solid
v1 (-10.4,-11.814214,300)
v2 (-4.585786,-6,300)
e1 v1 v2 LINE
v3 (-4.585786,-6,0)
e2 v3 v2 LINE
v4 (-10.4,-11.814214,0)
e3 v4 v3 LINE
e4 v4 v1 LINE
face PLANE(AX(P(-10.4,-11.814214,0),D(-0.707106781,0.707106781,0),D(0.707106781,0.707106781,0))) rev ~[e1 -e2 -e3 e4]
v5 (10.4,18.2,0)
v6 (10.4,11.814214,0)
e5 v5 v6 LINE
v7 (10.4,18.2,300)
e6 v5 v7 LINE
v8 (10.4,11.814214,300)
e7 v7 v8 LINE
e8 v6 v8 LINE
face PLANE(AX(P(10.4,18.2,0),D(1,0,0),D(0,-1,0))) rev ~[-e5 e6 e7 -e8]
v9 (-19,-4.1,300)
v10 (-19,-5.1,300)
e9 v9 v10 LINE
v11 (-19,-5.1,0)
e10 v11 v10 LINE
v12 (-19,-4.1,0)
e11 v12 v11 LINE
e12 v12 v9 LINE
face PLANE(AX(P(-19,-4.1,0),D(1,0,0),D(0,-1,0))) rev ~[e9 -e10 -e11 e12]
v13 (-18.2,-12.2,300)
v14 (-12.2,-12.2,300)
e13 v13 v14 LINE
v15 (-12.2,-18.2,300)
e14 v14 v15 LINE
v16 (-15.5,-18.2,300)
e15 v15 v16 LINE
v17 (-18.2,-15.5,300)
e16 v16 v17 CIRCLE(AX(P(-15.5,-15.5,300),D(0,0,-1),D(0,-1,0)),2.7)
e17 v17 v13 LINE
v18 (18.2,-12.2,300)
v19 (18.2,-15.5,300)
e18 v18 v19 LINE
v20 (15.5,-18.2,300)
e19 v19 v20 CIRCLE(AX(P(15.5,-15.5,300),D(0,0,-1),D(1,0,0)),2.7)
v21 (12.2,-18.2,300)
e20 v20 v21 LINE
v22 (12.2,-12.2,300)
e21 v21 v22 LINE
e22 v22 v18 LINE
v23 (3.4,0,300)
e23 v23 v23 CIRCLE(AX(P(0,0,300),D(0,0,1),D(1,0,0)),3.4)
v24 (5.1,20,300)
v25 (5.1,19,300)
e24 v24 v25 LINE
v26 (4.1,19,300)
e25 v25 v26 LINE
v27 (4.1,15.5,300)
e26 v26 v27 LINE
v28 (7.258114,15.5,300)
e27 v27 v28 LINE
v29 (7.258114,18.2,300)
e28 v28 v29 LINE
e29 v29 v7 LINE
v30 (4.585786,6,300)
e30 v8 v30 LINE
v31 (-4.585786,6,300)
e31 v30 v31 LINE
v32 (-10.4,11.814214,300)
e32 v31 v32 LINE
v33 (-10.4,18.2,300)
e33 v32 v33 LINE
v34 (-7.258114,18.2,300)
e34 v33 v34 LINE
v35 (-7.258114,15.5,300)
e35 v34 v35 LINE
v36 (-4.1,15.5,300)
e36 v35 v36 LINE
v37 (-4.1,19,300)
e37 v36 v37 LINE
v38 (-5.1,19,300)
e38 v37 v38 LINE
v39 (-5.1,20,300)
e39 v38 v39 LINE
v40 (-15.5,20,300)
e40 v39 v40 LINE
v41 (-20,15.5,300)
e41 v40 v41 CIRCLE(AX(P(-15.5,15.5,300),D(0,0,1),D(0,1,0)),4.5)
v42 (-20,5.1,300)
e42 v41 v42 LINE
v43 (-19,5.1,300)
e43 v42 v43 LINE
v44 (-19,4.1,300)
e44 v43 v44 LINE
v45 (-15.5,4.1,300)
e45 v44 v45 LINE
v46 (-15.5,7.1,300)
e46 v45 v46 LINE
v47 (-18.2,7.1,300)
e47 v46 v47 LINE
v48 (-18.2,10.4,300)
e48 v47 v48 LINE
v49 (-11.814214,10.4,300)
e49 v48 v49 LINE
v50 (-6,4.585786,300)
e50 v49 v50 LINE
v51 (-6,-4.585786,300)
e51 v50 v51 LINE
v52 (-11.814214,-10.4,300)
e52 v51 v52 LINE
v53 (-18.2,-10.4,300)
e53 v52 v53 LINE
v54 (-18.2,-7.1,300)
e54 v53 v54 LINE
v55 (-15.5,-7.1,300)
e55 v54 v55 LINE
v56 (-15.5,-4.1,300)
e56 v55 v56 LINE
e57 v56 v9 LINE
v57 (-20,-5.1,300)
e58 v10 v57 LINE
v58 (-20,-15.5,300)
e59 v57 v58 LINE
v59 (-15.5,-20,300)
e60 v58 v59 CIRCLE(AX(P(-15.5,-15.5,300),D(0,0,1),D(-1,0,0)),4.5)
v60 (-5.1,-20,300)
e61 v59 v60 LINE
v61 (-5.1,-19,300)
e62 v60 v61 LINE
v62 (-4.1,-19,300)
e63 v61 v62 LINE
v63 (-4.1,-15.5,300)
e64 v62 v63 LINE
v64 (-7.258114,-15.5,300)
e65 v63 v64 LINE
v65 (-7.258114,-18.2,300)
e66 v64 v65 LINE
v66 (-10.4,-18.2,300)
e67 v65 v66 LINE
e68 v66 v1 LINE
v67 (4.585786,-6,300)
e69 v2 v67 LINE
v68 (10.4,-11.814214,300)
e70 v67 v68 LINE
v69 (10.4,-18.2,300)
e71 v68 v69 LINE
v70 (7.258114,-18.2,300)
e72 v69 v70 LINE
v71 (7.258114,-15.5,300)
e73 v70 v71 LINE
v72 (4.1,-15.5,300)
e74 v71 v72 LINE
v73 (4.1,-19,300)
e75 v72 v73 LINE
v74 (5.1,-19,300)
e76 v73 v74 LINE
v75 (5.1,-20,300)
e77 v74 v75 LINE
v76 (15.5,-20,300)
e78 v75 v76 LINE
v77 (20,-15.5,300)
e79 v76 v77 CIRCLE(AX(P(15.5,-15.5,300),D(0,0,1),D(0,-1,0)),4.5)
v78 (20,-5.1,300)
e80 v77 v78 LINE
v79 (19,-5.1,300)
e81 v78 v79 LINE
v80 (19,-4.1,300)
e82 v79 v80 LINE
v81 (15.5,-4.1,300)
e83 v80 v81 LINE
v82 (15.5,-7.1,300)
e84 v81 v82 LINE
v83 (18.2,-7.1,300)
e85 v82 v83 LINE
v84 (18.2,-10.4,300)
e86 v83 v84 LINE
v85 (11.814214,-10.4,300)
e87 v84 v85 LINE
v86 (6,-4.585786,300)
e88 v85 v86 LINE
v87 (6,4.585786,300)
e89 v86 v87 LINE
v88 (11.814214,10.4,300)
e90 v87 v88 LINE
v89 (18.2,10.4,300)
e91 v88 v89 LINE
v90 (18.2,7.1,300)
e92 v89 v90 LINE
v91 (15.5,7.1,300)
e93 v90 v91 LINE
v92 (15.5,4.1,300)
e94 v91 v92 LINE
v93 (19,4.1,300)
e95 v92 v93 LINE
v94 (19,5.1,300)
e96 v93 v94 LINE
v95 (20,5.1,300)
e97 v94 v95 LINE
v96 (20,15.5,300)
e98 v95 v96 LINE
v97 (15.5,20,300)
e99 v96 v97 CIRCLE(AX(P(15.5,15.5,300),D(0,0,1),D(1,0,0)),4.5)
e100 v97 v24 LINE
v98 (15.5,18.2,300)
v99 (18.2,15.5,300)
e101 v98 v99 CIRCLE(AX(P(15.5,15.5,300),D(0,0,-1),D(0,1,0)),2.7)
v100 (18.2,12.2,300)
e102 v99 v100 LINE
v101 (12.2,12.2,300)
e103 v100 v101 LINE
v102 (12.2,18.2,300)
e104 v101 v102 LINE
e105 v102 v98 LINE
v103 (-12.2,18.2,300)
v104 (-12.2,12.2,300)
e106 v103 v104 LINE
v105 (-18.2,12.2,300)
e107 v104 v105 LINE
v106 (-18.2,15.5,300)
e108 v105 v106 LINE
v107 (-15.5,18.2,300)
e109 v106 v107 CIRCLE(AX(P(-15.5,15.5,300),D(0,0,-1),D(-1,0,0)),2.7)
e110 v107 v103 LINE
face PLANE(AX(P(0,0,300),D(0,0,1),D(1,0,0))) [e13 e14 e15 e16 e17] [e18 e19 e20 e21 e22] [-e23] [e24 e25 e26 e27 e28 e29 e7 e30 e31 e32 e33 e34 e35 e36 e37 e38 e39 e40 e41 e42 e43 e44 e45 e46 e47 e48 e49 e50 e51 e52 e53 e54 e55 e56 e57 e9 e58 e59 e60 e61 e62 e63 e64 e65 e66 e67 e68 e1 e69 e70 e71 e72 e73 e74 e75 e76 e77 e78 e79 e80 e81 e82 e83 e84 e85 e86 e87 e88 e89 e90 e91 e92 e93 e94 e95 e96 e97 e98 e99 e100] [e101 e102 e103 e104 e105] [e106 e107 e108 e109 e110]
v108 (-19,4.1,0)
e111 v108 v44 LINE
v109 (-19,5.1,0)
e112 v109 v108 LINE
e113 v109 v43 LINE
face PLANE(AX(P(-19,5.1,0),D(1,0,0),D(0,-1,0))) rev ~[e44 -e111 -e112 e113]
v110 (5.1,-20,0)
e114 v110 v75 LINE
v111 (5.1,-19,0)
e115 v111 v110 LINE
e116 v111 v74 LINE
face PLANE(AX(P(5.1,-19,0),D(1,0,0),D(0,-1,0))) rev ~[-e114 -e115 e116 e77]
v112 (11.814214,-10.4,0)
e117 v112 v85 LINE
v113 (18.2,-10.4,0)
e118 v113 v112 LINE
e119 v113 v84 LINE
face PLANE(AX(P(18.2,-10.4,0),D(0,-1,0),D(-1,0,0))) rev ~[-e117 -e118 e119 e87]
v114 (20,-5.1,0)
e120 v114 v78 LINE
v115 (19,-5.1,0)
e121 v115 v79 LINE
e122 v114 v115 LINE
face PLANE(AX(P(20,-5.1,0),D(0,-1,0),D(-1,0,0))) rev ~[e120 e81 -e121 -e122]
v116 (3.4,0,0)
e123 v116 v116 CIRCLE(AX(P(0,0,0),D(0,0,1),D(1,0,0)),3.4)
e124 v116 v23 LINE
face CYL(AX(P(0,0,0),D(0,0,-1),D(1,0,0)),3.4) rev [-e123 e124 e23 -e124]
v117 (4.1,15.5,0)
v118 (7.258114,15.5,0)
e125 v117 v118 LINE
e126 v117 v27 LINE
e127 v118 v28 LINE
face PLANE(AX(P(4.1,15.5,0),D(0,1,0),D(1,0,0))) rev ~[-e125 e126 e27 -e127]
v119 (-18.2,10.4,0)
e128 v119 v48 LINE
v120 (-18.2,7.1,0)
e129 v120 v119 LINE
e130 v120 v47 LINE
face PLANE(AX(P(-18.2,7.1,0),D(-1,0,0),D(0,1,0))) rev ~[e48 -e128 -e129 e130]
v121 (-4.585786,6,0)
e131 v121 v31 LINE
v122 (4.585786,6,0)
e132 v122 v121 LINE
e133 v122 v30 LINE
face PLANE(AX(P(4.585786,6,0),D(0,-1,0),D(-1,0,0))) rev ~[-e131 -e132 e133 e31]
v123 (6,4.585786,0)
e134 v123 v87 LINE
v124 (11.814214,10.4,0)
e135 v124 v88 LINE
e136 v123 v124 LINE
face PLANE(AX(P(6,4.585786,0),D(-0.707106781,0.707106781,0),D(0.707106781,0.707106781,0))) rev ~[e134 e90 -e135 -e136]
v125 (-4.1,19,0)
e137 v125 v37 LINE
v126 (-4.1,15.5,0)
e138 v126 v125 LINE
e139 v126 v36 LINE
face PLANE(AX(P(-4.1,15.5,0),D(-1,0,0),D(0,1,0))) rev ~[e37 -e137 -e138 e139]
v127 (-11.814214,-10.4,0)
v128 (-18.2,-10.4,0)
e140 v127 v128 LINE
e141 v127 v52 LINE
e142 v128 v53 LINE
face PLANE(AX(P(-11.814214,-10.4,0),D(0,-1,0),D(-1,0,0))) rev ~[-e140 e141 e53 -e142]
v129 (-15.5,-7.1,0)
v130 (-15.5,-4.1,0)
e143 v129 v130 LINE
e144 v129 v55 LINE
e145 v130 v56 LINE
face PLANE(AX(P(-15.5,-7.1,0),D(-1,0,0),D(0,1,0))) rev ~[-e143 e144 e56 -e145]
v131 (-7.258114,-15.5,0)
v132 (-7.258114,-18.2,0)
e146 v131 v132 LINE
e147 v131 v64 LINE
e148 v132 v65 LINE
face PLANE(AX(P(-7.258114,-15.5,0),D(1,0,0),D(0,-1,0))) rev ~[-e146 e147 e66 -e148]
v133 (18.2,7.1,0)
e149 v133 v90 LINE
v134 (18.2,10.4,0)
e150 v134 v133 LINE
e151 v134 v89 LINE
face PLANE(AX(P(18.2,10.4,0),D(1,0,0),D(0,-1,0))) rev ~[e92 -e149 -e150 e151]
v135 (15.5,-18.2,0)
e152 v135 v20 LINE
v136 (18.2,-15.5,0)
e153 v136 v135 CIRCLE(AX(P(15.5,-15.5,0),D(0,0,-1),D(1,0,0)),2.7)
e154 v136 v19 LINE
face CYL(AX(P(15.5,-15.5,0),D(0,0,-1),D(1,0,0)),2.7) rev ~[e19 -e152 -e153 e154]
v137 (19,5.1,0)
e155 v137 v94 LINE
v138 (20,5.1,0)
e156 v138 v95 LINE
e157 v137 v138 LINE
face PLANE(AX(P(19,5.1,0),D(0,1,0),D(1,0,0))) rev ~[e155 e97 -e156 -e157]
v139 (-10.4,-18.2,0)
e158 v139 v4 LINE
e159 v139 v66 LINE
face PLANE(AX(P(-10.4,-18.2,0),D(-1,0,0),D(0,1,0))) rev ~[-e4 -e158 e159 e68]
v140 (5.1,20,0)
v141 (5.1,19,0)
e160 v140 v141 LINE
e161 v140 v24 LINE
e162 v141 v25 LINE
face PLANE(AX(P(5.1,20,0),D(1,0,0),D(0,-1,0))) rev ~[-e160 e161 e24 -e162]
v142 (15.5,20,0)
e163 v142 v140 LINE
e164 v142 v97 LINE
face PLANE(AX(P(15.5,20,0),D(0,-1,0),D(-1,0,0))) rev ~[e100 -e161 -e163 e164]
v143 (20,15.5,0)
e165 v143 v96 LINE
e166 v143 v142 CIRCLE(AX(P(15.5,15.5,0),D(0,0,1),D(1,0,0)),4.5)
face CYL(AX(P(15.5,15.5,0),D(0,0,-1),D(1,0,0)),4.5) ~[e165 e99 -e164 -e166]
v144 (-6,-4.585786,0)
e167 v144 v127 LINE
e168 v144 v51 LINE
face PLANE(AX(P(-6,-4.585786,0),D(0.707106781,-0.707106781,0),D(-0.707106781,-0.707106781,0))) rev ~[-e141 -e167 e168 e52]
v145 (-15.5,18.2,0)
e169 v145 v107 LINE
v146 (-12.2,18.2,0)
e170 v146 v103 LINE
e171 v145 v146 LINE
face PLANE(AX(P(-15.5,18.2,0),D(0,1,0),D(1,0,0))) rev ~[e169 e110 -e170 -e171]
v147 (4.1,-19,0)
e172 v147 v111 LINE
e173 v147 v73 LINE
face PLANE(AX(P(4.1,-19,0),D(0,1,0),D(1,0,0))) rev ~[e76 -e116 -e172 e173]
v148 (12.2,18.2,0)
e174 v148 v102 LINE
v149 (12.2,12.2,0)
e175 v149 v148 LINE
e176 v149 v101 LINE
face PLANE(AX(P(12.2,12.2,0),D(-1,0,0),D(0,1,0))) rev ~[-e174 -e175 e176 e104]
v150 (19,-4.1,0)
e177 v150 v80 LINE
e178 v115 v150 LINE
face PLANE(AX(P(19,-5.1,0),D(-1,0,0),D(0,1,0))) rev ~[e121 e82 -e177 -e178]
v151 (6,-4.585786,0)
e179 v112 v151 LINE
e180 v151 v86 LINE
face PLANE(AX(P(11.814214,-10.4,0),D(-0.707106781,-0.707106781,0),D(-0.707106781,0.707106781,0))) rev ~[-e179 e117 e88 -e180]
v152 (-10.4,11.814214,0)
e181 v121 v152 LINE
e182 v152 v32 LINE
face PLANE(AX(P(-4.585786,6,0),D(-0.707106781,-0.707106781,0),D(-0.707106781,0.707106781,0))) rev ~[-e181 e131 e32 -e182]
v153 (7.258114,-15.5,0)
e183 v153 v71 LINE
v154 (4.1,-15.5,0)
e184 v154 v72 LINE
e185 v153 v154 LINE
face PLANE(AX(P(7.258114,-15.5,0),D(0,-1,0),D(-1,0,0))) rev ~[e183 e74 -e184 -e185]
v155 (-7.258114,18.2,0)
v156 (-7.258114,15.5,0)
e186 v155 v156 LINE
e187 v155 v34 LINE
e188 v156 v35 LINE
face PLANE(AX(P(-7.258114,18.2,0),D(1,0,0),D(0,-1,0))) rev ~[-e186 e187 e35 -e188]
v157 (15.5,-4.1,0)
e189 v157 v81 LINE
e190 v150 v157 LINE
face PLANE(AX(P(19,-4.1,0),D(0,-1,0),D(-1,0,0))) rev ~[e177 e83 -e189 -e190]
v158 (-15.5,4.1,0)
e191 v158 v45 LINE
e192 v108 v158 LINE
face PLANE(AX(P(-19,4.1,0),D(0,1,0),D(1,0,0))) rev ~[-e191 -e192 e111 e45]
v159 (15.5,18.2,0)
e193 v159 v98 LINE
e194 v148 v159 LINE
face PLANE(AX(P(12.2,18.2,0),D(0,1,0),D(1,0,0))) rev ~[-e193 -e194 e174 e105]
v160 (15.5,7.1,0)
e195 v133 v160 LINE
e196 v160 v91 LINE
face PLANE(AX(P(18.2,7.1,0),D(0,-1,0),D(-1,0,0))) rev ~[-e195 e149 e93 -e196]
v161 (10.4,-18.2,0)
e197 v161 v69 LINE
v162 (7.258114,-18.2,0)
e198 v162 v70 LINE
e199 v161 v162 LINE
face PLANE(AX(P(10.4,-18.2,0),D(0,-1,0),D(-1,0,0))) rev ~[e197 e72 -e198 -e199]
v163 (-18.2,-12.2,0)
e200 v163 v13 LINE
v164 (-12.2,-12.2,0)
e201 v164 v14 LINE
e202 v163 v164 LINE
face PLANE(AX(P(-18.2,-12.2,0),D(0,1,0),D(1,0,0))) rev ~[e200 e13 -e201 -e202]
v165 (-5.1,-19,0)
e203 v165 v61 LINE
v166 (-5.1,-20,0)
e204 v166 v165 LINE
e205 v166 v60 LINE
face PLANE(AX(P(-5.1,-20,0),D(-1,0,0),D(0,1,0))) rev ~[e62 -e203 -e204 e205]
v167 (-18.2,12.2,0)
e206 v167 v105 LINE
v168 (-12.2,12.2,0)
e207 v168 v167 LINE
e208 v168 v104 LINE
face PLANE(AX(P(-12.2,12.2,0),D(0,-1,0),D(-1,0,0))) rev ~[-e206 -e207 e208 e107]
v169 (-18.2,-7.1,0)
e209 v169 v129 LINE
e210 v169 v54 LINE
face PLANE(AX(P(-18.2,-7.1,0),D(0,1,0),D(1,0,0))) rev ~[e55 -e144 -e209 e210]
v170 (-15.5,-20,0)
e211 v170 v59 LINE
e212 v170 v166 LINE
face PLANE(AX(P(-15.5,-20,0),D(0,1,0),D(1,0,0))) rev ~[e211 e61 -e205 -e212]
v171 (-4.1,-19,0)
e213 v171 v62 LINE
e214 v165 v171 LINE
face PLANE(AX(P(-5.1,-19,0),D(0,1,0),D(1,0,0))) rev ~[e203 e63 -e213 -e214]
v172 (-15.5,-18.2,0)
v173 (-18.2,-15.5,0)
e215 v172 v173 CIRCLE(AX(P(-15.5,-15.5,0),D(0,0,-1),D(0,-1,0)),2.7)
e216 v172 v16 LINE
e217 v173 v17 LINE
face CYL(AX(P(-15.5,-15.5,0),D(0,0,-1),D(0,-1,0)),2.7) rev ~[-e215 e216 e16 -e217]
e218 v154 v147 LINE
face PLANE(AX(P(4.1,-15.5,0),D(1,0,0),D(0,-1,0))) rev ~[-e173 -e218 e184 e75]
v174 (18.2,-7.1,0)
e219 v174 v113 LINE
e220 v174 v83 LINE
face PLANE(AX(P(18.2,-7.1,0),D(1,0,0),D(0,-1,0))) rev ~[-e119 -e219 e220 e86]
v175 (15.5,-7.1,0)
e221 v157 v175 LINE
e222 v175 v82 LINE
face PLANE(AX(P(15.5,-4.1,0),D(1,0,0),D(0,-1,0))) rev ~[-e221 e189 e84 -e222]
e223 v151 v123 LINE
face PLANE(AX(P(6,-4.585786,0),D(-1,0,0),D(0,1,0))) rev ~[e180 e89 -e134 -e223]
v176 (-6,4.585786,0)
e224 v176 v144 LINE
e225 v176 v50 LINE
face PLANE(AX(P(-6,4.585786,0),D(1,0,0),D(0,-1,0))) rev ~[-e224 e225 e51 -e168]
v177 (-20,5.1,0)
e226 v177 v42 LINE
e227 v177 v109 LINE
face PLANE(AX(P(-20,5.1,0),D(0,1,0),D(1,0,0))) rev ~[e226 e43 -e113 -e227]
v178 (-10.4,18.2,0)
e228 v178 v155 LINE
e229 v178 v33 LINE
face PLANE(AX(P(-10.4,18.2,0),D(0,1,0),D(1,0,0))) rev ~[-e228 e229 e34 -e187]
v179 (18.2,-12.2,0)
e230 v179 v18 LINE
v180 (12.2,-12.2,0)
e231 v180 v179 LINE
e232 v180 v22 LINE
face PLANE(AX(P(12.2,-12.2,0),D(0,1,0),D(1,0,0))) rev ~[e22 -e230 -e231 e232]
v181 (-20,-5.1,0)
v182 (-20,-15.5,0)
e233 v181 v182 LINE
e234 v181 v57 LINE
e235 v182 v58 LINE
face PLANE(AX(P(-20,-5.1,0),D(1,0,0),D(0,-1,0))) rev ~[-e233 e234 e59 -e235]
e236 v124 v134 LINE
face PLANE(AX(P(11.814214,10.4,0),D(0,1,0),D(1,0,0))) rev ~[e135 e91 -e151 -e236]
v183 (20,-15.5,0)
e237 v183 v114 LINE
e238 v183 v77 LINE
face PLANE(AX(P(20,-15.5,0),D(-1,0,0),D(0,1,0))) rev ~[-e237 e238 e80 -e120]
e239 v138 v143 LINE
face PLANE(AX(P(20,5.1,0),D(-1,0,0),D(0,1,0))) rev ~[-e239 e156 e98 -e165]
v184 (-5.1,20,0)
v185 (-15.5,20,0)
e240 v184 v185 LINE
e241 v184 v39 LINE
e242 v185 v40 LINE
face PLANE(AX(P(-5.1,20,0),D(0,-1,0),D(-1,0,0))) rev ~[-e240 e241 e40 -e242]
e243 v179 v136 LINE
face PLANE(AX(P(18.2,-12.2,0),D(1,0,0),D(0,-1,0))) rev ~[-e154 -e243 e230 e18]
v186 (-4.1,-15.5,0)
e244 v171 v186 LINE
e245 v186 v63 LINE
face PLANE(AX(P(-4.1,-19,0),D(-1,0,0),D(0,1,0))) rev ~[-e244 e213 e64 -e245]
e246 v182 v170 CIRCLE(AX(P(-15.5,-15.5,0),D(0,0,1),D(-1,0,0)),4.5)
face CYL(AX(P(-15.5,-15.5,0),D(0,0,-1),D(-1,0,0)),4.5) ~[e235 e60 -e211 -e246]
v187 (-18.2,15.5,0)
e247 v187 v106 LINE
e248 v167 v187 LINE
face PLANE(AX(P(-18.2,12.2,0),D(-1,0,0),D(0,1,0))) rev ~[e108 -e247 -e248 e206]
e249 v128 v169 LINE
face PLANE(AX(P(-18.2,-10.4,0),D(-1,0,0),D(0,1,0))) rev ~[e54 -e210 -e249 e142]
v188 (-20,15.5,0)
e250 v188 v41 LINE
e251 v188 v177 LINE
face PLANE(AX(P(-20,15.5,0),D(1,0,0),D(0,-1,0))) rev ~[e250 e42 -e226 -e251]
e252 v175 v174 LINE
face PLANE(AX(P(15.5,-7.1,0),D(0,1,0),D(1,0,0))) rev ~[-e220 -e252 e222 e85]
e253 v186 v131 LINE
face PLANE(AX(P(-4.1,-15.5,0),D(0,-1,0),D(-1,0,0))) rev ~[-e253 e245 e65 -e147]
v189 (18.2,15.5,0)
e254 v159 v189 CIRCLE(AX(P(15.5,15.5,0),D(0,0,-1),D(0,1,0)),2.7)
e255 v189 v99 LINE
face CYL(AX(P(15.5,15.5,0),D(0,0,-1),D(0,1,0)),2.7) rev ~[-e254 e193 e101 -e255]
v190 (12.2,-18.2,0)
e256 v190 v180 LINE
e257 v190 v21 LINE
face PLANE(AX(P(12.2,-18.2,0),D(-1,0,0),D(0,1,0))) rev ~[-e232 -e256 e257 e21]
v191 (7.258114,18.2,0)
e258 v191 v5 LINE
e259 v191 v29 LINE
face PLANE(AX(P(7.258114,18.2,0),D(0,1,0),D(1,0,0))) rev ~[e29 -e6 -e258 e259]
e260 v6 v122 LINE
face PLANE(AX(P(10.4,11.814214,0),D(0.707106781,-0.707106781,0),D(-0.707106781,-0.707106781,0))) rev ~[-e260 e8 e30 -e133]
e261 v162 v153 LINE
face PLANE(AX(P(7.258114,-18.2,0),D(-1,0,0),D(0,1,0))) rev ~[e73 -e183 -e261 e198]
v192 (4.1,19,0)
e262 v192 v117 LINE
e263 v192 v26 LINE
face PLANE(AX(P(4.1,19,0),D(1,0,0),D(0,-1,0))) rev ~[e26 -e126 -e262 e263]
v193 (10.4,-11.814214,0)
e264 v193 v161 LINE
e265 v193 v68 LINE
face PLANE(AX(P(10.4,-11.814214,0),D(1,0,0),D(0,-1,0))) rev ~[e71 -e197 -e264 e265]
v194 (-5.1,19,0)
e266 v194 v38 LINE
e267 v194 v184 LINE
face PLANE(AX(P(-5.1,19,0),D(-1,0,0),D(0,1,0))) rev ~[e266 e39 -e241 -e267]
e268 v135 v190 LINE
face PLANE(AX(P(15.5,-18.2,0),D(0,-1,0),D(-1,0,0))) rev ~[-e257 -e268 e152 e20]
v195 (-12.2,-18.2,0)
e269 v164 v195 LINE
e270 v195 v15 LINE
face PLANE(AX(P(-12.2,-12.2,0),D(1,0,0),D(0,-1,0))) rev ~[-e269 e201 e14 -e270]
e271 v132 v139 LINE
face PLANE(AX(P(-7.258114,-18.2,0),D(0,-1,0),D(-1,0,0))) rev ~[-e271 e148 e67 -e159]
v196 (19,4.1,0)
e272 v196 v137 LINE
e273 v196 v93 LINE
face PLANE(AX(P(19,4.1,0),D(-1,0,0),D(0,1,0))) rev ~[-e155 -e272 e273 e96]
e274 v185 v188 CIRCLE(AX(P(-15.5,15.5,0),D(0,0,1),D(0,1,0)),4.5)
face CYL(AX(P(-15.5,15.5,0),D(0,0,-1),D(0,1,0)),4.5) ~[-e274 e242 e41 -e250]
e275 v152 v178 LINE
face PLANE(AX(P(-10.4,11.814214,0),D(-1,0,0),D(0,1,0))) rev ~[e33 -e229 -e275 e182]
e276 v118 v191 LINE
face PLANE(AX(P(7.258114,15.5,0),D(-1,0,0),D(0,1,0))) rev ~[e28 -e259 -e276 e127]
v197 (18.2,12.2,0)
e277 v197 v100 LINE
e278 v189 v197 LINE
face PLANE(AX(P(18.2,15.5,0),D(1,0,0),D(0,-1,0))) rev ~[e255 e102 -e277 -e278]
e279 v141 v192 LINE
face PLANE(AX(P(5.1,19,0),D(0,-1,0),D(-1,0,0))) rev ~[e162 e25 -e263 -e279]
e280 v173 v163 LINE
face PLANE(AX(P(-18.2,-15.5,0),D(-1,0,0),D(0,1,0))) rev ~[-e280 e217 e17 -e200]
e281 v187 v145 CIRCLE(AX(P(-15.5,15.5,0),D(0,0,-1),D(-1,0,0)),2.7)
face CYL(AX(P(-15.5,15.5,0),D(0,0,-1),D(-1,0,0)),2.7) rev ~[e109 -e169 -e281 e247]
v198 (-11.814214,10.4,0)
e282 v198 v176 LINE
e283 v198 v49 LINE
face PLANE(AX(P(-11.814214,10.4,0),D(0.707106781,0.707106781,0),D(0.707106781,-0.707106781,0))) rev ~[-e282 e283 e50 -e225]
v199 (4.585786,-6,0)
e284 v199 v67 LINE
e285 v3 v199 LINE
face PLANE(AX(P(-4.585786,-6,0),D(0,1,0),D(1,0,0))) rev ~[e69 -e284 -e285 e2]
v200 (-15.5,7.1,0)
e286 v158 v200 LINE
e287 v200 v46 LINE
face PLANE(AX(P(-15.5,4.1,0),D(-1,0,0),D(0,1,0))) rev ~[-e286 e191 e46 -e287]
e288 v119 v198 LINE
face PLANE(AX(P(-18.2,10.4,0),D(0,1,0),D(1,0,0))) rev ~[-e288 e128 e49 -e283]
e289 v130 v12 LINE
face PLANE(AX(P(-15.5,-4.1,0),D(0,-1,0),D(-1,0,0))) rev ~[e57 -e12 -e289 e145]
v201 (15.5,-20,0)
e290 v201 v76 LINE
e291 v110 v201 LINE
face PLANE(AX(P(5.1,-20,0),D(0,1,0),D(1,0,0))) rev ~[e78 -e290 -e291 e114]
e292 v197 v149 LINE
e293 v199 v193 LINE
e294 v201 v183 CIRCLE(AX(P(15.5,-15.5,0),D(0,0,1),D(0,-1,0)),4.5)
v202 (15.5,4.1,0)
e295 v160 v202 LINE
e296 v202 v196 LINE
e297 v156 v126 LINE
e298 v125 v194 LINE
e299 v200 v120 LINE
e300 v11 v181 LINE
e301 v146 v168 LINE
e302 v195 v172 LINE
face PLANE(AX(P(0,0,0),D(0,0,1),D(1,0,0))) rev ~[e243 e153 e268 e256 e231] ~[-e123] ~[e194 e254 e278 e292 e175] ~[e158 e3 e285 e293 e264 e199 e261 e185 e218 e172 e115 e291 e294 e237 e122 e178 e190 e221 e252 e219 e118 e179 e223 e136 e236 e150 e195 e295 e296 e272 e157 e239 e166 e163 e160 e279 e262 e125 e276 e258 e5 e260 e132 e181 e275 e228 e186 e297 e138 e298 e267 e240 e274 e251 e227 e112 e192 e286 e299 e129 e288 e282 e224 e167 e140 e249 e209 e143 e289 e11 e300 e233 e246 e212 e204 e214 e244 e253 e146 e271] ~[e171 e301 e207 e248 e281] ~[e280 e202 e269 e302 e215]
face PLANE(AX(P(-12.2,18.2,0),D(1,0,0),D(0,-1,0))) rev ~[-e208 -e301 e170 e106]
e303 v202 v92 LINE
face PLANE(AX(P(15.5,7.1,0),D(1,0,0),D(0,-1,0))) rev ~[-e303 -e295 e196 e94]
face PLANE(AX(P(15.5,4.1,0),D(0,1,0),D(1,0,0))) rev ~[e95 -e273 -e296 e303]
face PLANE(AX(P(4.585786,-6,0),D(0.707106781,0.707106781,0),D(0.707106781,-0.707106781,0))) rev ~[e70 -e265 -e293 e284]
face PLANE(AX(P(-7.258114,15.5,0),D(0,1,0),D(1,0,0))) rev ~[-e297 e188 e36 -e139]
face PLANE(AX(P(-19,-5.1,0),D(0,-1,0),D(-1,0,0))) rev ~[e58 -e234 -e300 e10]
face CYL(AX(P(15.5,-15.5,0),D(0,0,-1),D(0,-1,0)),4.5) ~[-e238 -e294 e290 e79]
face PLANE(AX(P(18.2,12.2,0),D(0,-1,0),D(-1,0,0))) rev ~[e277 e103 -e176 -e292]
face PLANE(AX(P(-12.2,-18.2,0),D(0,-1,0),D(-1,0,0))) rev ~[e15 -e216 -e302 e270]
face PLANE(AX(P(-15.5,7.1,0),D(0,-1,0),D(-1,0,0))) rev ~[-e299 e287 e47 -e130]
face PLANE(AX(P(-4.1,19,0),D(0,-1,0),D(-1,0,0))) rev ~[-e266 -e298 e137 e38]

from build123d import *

# Parameters (mm, degrees)
SKETCH3_R           = 3.4
BOSS_EXTRUDE1_DEPTH = 300


with BuildPart() as part:
    # Sketch3 → Boss-Extrude1 (new body)
    with BuildSketch(Plane.XY):
        with BuildLine():
            Line((-11.814213562, 10.4), (-6, 4.585786438))
            Line((-6, 4.585786438), (-6, -4.585786438))
            Line((-6, -4.585786438), (-11.814213562, -10.4))
            Line((-11.814213562, -10.4), (-18.2, -10.4))
            Line((-18.2, -10.4), (-18.2, -7.1))
            Line((-18.2, -7.1), (-15.5, -7.1))
            Line((-15.5, -7.1), (-15.5, -4.1))
            Line((-15.5, -4.1), (-19, -4.1))
            Line((-19, -4.1), (-19, -5.1))
            Line((-19, -5.1), (-20, -5.1))
            Line((-20, -5.1), (-20, -15.5))
            ThreePointArc((-20, -15.5), (-18.681980515, -18.681980515), (-15.5, -20))
            Line((-15.5, -20), (-5.1, -20))
            Line((-5.1, -20), (-5.1, -19))
            Line((-5.1, -19), (-4.1, -19))
            Line((-4.1, -19), (-4.1, -15.5))
            Line((-4.1, -15.5), (-7.258114106, -15.5))
            Line((-7.258114106, -15.5), (-7.258114106, -18.2))
            Line((-7.258114106, -18.2), (-10.4, -18.2))
            Line((-10.4, -18.2), (-10.4, -11.814213562))
            Line((-10.4, -11.814213562), (-4.585786438, -6))
            Line((-4.585786438, -6), (4.585786438, -6))
            Line((4.585786438, -6), (10.4, -11.814213562))
            Line((10.4, -11.814213562), (10.4, -18.2))
            Line((10.4, -18.2), (7.258114106, -18.2))
            Line((7.258114106, -18.2), (7.258114106, -15.5))
            Line((7.258114106, -15.5), (4.1, -15.5))
            Line((4.1, -15.5), (4.1, -19))
            Line((4.1, -19), (5.1, -19))
            Line((5.1, -19), (5.1, -20))
            Line((5.1, -20), (15.5, -20))
            ThreePointArc((15.5, -20), (18.681980515, -18.681980515), (20, -15.5))
            Line((20, -15.5), (20, -5.1))
            Line((20, -5.1), (19, -5.1))
            Line((19, -5.1), (19, -4.1))
            Line((19, -4.1), (15.5, -4.1))
            Line((15.5, -4.1), (15.5, -7.1))
            Line((15.5, -7.1), (18.2, -7.1))
            Line((18.2, -7.1), (18.2, -10.4))
            Line((18.2, -10.4), (11.814213562, -10.4))
            Line((11.814213562, -10.4), (6, -4.585786438))
            Line((6, -4.585786438), (6, 4.585786438))
            Line((6, 4.585786438), (11.814213562, 10.4))
            Line((11.814213562, 10.4), (18.2, 10.4))
            Line((18.2, 10.4), (18.2, 7.1))
            Line((18.2, 7.1), (15.5, 7.1))
            Line((15.5, 7.1), (15.5, 4.1))
            Line((15.5, 4.1), (19, 4.1))
            Line((19, 4.1), (19, 5.1))
            Line((19, 5.1), (20, 5.1))
            Line((20, 5.1), (20, 15.5))
            ThreePointArc((20, 15.5), (18.681980515, 18.681980515), (15.5, 20))
            Line((15.5, 20), (5.1, 20))
            Line((5.1, 20), (5.1, 19))
            Line((5.1, 19), (4.1, 19))
            Line((4.1, 19), (4.1, 15.5))
            Line((4.1, 15.5), (7.258114106, 15.5))
            Line((7.258114106, 15.5), (7.258114106, 18.2))
            Line((7.258114106, 18.2), (10.4, 18.2))
            Line((10.4, 18.2), (10.4, 11.814213562))
            Line((10.4, 11.814213562), (4.585786438, 6))
            Line((4.585786438, 6), (-4.585786438, 6))
            Line((-4.585786438, 6), (-10.4, 11.814213562))
            Line((-10.4, 11.814213562), (-10.4, 18.2))
            Line((-10.4, 18.2), (-7.258114106, 18.2))
            Line((-7.258114106, 18.2), (-7.258114106, 15.5))
            Line((-7.258114106, 15.5), (-4.1, 15.5))
            Line((-4.1, 15.5), (-4.1, 19))
            Line((-4.1, 19), (-5.1, 19))
            Line((-5.1, 19), (-5.1, 20))
            Line((-5.1, 20), (-15.5, 20))
            ThreePointArc((-15.5, 20), (-18.681980515, 18.681980515), (-20, 15.5))
            Line((-20, 15.5), (-20, 5.1))
            Line((-20, 5.1), (-19, 5.1))
            Line((-19, 5.1), (-19, 4.1))
            Line((-19, 4.1), (-15.5, 4.1))
            Line((-15.5, 4.1), (-15.5, 7.1))
            Line((-15.5, 7.1), (-18.2, 7.1))
            Line((-18.2, 7.1), (-18.2, 10.4))
            Line((-18.2, 10.4), (-11.814213562, 10.4))
        make_face()
        with BuildLine():
            Line((-18.2, -15.5), (-18.2, -12.2))
            Line((-18.2, -12.2), (-12.2, -12.2))
            Line((-12.2, -12.2), (-12.2, -18.2))
            Line((-12.2, -18.2), (-15.5, -18.2))
            ThreePointArc((-15.5, -18.2), (-17.409188309, -17.409188309), (-18.2, -15.5))
        make_face(mode=Mode.SUBTRACT)
        Circle(SKETCH3_R, mode=Mode.SUBTRACT)
        with BuildLine():
            Line((-18.2, 12.2), (-18.2, 15.5))
            ThreePointArc((-18.2, 15.5), (-17.409188309, 17.409188309), (-15.5, 18.2))
            Line((-15.5, 18.2), (-12.2, 18.2))
            Line((-12.2, 18.2), (-12.2, 12.2))
            Line((-12.2, 12.2), (-18.2, 12.2))
        make_face(mode=Mode.SUBTRACT)
        with BuildLine():
            Line((18.2, 15.5), (18.2, 12.2))
            Line((18.2, 12.2), (12.2, 12.2))
            Line((12.2, 12.2), (12.2, 18.2))
            Line((12.2, 18.2), (15.5, 18.2))
            ThreePointArc((15.5, 18.2), (17.409188309, 17.409188309), (18.2, 15.5))
        make_face(mode=Mode.SUBTRACT)
        with BuildLine():
            Line((12.2, -18.2), (12.2, -12.2))
            Line((12.2, -12.2), (18.2, -12.2))
            Line((18.2, -12.2), (18.2, -15.5))
            ThreePointArc((18.2, -15.5), (17.409188309, -17.409188309), (15.5, -18.2))
            Line((15.5, -18.2), (12.2, -18.2))
        make_face(mode=Mode.SUBTRACT)
    extrude(amount=BOSS_EXTRUDE1_DEPTH)


solid = part.part
